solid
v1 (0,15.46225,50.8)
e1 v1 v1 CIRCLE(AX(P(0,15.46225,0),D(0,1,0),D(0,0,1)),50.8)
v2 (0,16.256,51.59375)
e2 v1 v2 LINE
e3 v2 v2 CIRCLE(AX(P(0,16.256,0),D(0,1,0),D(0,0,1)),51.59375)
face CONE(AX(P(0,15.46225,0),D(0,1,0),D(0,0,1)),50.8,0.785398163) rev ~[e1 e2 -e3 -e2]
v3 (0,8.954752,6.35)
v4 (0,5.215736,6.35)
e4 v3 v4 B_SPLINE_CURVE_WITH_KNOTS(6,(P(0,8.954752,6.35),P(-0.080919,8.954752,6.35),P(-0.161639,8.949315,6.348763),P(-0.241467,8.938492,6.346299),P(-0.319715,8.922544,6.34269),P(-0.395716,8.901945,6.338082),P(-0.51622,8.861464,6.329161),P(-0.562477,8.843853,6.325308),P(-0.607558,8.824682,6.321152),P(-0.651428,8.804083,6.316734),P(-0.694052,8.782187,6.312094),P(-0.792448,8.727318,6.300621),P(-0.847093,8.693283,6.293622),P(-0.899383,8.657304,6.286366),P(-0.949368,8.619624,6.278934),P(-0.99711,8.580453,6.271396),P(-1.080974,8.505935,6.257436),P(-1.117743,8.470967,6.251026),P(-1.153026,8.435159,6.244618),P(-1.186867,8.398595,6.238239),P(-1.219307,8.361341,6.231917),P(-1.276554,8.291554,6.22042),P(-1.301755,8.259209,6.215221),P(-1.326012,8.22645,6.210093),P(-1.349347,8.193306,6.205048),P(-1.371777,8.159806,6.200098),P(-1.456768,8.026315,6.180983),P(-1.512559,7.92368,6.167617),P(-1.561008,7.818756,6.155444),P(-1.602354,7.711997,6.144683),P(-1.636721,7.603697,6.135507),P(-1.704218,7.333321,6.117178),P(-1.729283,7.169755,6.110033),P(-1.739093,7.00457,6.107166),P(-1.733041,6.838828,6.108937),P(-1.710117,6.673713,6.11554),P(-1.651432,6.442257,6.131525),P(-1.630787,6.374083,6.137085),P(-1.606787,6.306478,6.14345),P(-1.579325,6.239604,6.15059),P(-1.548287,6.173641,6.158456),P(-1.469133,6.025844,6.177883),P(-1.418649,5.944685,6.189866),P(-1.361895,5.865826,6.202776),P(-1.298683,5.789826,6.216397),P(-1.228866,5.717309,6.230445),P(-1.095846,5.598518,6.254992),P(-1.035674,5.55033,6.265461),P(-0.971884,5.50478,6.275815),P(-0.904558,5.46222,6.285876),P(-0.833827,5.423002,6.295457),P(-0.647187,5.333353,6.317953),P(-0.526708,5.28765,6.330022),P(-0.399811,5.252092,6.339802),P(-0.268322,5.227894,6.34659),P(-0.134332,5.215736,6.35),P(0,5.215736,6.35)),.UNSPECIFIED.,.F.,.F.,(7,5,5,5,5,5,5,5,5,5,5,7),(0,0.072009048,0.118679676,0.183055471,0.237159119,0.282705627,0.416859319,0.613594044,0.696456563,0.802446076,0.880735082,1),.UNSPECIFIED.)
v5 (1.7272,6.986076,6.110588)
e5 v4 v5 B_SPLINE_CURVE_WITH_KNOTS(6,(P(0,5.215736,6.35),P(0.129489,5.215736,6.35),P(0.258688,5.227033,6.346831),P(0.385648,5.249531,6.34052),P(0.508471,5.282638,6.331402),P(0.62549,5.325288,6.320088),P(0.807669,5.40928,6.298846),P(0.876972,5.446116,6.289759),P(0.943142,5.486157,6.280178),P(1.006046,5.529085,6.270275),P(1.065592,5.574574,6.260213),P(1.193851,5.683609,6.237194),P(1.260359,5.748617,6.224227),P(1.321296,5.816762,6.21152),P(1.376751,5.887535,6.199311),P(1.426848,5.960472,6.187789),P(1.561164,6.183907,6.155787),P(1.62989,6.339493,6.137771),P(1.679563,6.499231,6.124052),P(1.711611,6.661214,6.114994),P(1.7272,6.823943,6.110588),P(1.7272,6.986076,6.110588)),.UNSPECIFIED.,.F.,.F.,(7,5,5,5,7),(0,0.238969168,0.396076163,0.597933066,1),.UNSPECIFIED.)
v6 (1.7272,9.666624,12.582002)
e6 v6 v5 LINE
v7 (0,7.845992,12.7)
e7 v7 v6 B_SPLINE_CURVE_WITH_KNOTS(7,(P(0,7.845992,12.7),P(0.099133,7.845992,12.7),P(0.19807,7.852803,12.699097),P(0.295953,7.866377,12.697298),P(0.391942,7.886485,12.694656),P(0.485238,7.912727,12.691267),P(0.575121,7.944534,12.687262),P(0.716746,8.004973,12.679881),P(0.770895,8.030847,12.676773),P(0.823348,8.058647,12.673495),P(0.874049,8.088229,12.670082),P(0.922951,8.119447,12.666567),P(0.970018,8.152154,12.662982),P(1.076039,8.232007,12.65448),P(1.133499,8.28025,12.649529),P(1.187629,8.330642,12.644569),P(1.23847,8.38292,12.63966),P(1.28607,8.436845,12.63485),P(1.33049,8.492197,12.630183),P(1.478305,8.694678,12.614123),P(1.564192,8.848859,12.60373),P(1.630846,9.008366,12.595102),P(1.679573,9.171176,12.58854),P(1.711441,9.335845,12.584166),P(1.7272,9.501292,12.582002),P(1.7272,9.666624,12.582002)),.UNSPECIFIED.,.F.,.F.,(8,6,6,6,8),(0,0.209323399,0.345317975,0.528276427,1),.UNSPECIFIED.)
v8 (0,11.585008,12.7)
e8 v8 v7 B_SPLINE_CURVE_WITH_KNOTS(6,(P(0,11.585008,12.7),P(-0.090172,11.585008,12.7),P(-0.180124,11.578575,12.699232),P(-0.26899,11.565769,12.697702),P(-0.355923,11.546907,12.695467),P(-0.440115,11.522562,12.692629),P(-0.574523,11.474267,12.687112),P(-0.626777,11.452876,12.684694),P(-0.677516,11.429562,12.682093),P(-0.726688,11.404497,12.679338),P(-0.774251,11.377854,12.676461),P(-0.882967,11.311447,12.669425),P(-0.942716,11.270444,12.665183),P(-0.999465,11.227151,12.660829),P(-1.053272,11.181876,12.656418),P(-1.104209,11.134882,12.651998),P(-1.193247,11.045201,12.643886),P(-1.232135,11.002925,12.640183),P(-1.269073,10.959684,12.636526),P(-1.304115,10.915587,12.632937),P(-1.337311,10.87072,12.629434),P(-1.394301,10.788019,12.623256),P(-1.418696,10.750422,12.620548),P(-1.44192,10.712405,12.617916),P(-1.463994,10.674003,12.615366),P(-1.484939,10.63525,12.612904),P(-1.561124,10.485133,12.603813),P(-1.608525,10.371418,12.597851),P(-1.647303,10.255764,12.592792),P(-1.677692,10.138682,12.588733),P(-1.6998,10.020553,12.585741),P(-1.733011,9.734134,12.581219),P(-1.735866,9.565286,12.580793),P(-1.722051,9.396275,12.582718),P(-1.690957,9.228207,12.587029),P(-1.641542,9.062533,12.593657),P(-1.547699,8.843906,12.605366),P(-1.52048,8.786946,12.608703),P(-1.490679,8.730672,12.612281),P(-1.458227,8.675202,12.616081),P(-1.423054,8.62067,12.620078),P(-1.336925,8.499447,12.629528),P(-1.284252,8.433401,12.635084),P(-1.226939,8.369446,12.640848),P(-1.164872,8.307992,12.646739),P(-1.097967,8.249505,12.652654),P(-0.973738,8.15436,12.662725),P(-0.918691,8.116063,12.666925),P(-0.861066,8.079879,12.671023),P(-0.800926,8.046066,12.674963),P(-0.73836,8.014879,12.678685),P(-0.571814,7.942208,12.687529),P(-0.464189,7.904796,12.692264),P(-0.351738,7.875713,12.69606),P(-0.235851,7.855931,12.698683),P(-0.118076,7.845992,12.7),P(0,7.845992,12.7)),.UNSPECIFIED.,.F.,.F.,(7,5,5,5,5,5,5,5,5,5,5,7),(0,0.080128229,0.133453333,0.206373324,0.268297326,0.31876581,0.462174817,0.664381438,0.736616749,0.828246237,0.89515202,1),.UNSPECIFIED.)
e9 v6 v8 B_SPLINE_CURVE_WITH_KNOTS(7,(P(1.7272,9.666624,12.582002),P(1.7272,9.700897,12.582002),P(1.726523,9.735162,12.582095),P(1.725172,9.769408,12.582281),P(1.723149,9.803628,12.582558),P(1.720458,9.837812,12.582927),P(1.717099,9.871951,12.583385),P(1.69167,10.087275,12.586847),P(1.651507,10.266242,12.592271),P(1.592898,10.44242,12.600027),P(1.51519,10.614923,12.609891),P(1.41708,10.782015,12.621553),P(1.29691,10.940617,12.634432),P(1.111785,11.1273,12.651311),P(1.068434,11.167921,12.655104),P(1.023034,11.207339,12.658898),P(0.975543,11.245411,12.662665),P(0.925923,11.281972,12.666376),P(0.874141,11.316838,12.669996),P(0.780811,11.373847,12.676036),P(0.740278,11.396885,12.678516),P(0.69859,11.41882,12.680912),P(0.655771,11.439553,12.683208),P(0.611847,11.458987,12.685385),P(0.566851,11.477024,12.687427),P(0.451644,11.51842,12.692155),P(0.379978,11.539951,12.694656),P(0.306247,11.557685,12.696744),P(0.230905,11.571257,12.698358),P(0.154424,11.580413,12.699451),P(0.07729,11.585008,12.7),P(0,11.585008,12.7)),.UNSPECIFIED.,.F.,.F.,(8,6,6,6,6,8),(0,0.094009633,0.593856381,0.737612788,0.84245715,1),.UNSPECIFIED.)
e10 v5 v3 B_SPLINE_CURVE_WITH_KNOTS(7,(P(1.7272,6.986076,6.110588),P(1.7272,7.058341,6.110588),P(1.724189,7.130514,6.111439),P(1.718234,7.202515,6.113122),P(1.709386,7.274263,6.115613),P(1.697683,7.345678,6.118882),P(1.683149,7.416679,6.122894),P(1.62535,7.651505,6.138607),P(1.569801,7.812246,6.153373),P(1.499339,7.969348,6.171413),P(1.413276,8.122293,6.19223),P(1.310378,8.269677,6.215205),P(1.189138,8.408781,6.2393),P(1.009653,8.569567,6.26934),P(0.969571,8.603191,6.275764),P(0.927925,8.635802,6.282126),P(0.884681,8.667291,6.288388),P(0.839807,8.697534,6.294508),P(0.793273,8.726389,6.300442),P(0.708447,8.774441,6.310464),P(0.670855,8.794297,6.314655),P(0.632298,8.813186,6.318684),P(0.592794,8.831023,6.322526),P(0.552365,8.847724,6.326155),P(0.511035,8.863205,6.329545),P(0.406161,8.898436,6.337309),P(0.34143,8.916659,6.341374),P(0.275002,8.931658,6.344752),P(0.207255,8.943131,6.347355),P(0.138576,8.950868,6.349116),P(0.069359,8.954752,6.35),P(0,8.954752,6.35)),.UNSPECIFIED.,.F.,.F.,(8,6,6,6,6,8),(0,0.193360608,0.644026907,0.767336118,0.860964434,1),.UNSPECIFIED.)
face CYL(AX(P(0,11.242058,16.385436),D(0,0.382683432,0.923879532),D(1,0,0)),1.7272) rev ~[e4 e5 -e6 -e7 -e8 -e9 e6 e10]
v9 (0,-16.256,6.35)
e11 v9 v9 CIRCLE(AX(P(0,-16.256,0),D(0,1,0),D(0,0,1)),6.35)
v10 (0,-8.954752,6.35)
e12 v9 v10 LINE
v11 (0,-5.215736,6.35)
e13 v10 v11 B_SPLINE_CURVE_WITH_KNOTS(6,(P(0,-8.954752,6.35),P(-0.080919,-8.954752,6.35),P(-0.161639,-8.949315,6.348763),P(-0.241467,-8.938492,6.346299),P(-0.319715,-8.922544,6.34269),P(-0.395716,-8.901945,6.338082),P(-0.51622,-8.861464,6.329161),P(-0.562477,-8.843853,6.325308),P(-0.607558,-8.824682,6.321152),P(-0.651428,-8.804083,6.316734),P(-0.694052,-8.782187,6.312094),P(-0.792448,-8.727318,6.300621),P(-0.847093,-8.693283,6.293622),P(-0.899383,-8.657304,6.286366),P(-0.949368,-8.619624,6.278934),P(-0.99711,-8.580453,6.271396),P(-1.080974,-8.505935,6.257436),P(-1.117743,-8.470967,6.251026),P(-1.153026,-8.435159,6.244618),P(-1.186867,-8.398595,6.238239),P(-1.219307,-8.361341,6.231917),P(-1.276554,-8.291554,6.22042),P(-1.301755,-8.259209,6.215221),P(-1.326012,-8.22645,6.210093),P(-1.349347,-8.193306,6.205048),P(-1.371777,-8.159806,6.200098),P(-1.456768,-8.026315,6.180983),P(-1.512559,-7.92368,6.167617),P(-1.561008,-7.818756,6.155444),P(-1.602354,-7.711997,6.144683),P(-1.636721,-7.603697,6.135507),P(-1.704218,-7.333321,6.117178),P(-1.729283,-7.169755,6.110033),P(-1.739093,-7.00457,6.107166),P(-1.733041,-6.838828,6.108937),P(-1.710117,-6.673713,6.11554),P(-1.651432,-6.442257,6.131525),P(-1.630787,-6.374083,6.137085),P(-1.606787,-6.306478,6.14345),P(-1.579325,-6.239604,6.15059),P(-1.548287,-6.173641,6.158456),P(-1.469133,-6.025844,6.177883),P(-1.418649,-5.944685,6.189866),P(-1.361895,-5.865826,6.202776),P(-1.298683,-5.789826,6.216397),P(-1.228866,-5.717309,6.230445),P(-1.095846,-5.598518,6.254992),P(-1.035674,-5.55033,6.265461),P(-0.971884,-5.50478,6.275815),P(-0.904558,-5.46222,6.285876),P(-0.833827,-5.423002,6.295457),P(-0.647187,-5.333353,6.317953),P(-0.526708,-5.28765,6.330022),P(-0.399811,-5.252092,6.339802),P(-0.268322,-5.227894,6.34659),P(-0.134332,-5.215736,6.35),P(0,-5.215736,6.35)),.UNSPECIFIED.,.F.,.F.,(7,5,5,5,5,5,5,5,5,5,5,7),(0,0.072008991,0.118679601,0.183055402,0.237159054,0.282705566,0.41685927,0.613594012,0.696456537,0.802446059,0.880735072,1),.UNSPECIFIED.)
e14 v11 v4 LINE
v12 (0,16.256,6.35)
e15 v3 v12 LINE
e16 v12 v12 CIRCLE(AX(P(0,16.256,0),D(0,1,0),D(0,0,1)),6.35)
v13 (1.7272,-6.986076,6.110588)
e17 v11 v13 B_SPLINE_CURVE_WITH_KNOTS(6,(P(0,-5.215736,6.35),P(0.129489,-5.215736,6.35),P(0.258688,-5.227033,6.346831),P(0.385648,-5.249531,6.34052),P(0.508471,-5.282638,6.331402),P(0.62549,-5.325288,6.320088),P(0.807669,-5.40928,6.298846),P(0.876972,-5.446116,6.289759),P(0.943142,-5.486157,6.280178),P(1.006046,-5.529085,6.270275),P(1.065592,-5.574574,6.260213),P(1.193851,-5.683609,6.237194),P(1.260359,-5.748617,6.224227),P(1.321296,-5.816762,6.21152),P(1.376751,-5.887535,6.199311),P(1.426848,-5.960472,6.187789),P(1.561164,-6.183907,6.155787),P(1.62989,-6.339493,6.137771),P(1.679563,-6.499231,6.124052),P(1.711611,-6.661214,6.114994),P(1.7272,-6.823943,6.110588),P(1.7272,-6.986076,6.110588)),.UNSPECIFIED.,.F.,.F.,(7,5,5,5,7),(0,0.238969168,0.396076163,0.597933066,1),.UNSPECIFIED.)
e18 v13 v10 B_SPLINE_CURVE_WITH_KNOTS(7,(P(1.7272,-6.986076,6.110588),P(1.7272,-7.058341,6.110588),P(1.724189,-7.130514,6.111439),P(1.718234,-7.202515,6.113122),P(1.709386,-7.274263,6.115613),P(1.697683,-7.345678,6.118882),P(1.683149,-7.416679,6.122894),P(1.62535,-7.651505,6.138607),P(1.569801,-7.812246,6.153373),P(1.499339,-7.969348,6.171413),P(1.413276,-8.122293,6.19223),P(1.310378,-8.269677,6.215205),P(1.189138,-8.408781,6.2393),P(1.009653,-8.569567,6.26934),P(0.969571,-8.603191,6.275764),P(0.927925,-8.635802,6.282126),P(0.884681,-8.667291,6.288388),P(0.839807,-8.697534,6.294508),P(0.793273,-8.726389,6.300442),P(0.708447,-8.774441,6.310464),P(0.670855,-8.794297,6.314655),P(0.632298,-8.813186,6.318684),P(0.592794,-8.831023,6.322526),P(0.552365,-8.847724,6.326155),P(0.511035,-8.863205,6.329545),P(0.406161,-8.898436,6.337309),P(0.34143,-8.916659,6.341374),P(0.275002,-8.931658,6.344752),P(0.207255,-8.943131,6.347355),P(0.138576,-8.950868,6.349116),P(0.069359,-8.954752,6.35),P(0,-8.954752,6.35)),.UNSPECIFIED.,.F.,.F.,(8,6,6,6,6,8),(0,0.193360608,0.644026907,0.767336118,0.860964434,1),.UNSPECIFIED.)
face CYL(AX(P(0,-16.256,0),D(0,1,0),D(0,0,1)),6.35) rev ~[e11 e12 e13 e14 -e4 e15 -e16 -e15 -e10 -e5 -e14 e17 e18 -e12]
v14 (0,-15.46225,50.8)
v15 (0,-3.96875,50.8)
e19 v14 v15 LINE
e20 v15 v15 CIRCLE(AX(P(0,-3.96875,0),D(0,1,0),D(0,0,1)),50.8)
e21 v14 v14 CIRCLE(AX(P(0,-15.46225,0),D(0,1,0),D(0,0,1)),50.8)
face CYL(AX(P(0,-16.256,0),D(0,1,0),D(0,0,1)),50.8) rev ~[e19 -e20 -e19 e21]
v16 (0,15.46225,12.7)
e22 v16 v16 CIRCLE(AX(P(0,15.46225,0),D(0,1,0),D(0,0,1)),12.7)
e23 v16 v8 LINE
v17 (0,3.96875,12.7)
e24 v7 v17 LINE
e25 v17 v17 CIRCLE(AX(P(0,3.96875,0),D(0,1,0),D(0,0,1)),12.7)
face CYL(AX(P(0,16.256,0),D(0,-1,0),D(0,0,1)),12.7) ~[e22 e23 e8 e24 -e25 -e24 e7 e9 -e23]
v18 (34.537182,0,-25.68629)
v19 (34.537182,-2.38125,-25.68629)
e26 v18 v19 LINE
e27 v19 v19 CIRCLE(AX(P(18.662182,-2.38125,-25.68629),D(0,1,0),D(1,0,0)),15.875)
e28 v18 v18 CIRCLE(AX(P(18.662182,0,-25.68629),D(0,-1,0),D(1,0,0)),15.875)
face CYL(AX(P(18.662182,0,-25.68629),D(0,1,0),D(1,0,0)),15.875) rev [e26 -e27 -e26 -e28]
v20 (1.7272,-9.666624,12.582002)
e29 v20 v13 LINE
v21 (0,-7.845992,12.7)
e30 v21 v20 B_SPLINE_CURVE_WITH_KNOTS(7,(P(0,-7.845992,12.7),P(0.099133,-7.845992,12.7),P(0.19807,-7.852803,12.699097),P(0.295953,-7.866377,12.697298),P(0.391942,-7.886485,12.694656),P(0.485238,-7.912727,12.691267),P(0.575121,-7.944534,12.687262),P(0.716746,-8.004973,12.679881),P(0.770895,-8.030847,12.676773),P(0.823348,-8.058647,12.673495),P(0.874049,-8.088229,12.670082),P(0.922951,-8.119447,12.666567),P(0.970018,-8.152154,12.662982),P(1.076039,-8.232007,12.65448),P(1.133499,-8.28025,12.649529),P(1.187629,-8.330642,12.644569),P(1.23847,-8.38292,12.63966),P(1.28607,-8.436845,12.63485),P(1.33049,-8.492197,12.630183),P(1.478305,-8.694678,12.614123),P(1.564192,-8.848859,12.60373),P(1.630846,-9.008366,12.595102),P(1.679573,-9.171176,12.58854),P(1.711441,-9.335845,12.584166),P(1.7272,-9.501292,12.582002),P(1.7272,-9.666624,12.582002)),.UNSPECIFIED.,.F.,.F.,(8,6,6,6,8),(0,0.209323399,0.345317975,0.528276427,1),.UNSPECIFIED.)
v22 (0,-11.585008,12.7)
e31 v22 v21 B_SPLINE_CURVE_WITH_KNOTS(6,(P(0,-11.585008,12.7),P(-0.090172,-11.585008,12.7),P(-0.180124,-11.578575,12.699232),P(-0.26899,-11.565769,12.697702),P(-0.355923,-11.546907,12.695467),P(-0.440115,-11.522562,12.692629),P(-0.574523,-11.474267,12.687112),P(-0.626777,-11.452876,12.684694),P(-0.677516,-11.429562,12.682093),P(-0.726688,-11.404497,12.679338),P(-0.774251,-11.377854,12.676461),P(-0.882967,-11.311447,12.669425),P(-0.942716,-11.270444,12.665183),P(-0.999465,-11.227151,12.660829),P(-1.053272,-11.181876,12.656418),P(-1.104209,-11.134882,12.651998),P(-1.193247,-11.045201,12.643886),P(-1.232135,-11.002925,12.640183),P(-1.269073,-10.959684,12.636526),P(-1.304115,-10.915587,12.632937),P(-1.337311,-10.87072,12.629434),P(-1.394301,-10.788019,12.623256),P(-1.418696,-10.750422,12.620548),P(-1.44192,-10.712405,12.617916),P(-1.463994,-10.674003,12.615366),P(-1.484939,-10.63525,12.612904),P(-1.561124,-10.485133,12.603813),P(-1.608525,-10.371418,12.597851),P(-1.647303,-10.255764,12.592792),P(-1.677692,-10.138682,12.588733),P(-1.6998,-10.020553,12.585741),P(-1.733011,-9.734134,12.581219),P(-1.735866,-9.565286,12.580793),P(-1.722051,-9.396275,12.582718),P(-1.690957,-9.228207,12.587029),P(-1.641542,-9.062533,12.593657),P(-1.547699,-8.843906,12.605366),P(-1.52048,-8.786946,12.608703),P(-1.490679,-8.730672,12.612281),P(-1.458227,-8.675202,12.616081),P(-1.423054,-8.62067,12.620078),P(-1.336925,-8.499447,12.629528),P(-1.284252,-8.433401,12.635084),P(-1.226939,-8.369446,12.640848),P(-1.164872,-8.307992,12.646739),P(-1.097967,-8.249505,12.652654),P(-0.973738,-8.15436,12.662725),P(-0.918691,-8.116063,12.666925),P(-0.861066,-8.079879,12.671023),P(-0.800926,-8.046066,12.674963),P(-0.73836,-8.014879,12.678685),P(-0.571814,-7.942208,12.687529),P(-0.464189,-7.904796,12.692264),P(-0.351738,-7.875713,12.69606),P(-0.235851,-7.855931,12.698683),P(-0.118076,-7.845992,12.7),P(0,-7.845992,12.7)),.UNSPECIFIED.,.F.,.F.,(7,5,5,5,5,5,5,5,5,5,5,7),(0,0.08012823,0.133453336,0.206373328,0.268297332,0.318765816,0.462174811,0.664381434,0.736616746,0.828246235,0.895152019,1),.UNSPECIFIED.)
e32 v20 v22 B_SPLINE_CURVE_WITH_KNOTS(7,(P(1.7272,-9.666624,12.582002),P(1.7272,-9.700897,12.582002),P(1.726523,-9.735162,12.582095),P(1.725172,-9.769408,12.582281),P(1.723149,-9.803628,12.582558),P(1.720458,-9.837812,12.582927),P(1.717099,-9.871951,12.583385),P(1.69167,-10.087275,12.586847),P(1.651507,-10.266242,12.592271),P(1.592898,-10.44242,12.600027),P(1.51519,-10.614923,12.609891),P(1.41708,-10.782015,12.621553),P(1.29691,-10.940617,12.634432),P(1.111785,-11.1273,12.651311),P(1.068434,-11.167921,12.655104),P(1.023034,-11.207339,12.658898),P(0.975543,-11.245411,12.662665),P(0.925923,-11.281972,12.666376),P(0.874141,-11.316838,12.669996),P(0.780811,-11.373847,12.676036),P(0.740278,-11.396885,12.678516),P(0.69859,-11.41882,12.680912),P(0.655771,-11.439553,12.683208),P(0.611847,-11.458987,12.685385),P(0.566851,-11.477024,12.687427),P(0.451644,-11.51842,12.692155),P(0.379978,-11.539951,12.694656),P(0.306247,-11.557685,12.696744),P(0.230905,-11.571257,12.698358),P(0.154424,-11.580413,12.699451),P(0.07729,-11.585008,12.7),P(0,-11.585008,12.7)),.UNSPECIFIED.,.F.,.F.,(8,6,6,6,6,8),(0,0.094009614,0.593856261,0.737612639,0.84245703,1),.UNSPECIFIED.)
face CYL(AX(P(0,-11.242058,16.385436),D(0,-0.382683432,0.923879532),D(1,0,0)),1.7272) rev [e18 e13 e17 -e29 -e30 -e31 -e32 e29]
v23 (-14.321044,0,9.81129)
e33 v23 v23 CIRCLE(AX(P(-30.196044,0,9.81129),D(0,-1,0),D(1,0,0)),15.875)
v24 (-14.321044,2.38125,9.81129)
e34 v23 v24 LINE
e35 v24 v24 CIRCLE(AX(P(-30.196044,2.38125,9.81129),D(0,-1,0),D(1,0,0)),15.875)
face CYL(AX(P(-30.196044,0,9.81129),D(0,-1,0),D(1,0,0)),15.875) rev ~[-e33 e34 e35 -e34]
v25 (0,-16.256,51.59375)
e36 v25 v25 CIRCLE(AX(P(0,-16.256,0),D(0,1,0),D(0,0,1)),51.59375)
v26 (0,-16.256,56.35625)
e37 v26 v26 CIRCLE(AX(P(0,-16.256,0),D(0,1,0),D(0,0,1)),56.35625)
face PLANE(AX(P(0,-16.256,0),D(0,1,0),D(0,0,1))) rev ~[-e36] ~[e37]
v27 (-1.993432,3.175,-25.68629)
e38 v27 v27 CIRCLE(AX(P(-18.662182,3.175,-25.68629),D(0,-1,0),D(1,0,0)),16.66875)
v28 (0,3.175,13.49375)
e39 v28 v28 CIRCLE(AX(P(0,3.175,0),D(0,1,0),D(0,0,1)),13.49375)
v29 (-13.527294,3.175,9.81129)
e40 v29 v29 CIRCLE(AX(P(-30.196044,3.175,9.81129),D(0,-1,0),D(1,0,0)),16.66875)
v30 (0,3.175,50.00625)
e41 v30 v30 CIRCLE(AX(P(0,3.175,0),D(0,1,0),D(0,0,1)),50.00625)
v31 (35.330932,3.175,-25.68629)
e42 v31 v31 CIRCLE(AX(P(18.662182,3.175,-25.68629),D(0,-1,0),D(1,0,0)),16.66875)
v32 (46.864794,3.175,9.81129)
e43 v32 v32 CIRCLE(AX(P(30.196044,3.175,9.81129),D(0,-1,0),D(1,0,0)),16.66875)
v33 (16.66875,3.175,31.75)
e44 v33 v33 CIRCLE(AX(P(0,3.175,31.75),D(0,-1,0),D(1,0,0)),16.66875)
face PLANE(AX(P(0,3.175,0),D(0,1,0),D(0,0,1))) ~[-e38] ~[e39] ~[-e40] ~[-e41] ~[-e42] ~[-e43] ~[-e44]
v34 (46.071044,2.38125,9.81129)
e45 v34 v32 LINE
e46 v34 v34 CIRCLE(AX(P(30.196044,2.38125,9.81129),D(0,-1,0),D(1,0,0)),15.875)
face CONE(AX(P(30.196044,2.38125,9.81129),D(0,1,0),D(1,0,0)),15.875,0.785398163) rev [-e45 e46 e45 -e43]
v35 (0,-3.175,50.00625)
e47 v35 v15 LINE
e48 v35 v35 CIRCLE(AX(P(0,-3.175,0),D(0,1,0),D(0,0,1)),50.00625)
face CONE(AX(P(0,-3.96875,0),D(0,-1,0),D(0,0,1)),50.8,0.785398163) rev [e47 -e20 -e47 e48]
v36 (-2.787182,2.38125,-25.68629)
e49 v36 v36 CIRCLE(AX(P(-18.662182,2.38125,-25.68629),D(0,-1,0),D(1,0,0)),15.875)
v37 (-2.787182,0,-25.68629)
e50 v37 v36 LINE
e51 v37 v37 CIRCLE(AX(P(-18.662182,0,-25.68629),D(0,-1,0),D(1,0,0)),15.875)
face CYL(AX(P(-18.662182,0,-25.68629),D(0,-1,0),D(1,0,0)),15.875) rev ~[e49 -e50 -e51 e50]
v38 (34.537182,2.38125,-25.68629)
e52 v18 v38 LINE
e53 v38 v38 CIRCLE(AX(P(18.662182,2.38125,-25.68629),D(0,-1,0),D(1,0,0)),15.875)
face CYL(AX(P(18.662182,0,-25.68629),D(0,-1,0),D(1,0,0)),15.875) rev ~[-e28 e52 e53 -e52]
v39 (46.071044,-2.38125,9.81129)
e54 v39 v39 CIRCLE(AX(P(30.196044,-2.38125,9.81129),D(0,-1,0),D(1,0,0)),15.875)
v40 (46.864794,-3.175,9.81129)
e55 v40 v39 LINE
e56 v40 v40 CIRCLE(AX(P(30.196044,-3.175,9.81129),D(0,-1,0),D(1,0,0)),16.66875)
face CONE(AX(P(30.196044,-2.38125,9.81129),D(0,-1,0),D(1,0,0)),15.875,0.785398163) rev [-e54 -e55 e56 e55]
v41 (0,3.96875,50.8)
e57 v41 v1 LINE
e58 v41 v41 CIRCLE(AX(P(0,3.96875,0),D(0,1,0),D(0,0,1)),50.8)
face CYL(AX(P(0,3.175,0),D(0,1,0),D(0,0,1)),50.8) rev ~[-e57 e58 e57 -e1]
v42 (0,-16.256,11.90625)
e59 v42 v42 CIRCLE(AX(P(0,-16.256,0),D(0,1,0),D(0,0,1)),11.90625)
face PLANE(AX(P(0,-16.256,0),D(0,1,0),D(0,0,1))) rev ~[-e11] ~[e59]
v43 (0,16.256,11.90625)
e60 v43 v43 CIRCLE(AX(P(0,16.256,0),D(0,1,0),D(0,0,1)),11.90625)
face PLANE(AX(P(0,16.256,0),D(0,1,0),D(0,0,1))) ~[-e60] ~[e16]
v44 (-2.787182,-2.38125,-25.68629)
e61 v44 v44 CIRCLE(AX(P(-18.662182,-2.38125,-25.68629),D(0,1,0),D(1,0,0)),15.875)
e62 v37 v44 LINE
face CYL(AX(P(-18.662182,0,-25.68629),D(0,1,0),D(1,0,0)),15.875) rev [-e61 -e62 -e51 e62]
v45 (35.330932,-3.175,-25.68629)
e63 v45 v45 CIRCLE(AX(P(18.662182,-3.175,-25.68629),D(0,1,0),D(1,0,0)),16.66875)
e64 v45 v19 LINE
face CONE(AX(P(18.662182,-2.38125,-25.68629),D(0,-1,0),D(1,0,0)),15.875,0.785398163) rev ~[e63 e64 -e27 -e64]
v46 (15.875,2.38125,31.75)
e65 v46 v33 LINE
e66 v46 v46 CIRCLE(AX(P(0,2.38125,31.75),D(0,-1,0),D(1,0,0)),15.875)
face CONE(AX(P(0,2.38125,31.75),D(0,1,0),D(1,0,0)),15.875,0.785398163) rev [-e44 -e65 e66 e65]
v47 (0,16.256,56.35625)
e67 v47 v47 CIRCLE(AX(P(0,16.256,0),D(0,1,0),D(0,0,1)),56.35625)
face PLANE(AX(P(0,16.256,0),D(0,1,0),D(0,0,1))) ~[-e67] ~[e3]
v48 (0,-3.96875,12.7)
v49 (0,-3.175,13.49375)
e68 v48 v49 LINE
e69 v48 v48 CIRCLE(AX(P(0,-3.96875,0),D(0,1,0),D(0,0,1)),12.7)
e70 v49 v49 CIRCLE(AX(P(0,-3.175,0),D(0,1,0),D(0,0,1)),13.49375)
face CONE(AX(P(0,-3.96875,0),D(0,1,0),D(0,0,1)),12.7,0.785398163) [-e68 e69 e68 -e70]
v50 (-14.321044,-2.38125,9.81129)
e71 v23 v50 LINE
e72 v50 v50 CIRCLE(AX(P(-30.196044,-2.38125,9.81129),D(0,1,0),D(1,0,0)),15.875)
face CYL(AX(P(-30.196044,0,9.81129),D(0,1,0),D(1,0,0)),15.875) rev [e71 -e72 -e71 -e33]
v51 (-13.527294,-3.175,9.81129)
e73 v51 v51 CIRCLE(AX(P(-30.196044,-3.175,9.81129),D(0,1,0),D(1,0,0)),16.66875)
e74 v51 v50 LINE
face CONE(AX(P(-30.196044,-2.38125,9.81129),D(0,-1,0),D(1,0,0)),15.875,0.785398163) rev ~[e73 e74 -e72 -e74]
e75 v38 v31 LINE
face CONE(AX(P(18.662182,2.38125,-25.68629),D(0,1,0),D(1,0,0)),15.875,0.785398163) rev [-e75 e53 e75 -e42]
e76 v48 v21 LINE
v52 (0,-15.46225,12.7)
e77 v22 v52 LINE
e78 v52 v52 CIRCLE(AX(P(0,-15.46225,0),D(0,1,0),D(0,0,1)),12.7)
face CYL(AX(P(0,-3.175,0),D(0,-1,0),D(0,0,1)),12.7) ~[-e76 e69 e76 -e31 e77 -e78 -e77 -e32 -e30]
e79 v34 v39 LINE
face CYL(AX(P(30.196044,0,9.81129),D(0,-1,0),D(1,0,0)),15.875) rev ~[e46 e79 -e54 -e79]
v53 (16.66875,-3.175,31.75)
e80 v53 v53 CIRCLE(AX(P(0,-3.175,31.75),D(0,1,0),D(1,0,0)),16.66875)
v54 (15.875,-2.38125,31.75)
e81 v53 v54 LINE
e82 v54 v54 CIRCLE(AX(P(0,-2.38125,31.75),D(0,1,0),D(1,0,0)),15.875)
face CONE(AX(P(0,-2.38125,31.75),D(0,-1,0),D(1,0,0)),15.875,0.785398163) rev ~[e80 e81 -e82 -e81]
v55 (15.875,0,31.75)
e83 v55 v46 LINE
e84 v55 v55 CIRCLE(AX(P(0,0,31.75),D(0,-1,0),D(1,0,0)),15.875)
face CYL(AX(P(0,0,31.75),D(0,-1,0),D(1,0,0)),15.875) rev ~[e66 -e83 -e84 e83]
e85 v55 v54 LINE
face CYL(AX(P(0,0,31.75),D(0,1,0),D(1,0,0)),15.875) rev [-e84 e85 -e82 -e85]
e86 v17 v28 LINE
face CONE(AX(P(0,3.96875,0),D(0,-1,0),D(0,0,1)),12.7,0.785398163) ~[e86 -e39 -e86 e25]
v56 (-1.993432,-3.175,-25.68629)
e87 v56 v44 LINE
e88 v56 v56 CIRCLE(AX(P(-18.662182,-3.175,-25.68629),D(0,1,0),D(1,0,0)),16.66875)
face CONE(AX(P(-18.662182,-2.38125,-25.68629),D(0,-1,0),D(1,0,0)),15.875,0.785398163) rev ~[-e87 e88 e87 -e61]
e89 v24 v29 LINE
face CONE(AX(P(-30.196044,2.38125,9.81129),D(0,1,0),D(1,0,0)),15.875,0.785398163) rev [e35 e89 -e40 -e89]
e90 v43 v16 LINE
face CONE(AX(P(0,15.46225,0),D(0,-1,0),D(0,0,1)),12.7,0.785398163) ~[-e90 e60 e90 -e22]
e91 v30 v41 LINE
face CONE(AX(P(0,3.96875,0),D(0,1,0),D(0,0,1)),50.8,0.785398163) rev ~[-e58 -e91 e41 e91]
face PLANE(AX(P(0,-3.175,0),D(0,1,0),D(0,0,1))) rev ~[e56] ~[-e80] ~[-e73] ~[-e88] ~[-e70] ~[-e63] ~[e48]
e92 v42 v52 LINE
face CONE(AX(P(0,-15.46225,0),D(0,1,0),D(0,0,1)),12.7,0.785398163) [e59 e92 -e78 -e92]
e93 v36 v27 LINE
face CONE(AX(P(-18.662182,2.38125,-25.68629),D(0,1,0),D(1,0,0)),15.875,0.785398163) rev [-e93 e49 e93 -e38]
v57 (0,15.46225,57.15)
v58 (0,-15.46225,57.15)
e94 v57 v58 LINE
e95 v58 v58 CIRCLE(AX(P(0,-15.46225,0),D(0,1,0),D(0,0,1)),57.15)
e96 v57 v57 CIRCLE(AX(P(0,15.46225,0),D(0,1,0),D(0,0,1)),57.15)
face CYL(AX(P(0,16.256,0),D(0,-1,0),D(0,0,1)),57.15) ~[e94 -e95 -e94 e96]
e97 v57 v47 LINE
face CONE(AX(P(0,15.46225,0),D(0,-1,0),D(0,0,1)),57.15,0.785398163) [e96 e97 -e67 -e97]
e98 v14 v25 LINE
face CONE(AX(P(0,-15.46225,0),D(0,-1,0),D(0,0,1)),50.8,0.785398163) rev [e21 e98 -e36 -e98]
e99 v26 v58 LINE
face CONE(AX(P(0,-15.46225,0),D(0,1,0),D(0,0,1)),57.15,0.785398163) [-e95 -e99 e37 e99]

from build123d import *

# Parameters (mm, degrees)
F2_R      = 15.875
F3_DEPTH  = 25.4
F7_R      = 1.7272
F8_DEPTH  = 12.5777076509
F9_R      = 1.7272
F10_DEPTH = 12.5777076509
F11_SIZE  = 0.79375


with BuildPart() as f1:
    # F0 (on Right) → F1 (revolve)
    with BuildSketch(Plane.YZ):
        Polygon((-16.256, 12.7), (-16.256, 6.35), (16.256, 6.35), (16.256, 12.7), (3.175, 12.7), (3.175, 50.8), (16.256, 50.8), (16.256, 57.15), (-16.256, 57.15), (-16.256, 50.8), (-3.175, 50.8), (-3.175, 12.7), align=None)
    revolve(axis=Axis((0, 1.0807417785, 0), (0, 1, 0)))

    # F2 (on Front) → F3 (cut, symmetric)
    with BuildSketch(Plane.XZ):
        with Locations((0, 31.75)):
            Circle(F2_R)
        with Locations((-30.1960443924, 9.8112895714)):
            Circle(F2_R)
        with Locations((-18.6621817603, -25.6862895714)):
            Circle(F2_R)
        with Locations((18.6621817603, -25.6862895714)):
            Circle(F2_R)
        with Locations((30.1960443924, 9.8112895714)):
            Circle(F2_R)
    extrude(amount=F3_DEPTH, both=True, mode=Mode.SUBTRACT)

    # F7 (on line) → F8 (cut, up to face)
    with BuildSketch(Plane(origin=(0, -7.4394877579, 17.9605122421), x_dir=(1, 0, 0), z_dir=(0, 0.3826834324, -0.9238795325))):
        with Locations((0, 4.1158720071)):
            Circle(F7_R)
    extrude(amount=F8_DEPTH, mode=Mode.SUBTRACT)

    # F9 (on line) → F10 (cut, up to face)
    with BuildSketch(Plane(origin=(0, 7.4394877579, 17.9605122421), x_dir=(1, 0, 0), z_dir=(0, 0.3826834324, 0.9238795325))):
        with Locations((0, 4.1158720071)):
            Circle(F9_R)
    extrude(amount=-F10_DEPTH, mode=Mode.SUBTRACT)

    # F11
    f11_edges = [f1.edges().sort_by_distance(p)[0] for p in [
        (0, -16.256, -57.15),
        (0, 16.256, -57.15),
        (0, -16.256, -50.8),
        (0, -3.175, -50.8),
        (0, 16.256, -50.8),
        (0, 3.175, -50.8),
        (0, 16.256, -12.7),
        (0, 3.175, -12.7),
        (0, -16.256, -12.7),
        (0, -3.175, -12.7),
        (-15.875, -3.175, 31.75),
        (14.321044, -3.175, 9.81129),
        (2.787182, -3.175, -25.68629),
        (-34.537182, -3.175, -25.68629),
        (-46.071044, -3.175, 9.81129),
        (-15.875, 3.175, 31.75),
        (-46.071044, 3.175, 9.81129),
        (-34.537182, 3.175, -25.68629),
        (2.787182, 3.175, -25.68629),
        (14.321044, 3.175, 9.81129),
    ]]
    chamfer(f11_edges, length=F11_SIZE)


solid = f1.part
